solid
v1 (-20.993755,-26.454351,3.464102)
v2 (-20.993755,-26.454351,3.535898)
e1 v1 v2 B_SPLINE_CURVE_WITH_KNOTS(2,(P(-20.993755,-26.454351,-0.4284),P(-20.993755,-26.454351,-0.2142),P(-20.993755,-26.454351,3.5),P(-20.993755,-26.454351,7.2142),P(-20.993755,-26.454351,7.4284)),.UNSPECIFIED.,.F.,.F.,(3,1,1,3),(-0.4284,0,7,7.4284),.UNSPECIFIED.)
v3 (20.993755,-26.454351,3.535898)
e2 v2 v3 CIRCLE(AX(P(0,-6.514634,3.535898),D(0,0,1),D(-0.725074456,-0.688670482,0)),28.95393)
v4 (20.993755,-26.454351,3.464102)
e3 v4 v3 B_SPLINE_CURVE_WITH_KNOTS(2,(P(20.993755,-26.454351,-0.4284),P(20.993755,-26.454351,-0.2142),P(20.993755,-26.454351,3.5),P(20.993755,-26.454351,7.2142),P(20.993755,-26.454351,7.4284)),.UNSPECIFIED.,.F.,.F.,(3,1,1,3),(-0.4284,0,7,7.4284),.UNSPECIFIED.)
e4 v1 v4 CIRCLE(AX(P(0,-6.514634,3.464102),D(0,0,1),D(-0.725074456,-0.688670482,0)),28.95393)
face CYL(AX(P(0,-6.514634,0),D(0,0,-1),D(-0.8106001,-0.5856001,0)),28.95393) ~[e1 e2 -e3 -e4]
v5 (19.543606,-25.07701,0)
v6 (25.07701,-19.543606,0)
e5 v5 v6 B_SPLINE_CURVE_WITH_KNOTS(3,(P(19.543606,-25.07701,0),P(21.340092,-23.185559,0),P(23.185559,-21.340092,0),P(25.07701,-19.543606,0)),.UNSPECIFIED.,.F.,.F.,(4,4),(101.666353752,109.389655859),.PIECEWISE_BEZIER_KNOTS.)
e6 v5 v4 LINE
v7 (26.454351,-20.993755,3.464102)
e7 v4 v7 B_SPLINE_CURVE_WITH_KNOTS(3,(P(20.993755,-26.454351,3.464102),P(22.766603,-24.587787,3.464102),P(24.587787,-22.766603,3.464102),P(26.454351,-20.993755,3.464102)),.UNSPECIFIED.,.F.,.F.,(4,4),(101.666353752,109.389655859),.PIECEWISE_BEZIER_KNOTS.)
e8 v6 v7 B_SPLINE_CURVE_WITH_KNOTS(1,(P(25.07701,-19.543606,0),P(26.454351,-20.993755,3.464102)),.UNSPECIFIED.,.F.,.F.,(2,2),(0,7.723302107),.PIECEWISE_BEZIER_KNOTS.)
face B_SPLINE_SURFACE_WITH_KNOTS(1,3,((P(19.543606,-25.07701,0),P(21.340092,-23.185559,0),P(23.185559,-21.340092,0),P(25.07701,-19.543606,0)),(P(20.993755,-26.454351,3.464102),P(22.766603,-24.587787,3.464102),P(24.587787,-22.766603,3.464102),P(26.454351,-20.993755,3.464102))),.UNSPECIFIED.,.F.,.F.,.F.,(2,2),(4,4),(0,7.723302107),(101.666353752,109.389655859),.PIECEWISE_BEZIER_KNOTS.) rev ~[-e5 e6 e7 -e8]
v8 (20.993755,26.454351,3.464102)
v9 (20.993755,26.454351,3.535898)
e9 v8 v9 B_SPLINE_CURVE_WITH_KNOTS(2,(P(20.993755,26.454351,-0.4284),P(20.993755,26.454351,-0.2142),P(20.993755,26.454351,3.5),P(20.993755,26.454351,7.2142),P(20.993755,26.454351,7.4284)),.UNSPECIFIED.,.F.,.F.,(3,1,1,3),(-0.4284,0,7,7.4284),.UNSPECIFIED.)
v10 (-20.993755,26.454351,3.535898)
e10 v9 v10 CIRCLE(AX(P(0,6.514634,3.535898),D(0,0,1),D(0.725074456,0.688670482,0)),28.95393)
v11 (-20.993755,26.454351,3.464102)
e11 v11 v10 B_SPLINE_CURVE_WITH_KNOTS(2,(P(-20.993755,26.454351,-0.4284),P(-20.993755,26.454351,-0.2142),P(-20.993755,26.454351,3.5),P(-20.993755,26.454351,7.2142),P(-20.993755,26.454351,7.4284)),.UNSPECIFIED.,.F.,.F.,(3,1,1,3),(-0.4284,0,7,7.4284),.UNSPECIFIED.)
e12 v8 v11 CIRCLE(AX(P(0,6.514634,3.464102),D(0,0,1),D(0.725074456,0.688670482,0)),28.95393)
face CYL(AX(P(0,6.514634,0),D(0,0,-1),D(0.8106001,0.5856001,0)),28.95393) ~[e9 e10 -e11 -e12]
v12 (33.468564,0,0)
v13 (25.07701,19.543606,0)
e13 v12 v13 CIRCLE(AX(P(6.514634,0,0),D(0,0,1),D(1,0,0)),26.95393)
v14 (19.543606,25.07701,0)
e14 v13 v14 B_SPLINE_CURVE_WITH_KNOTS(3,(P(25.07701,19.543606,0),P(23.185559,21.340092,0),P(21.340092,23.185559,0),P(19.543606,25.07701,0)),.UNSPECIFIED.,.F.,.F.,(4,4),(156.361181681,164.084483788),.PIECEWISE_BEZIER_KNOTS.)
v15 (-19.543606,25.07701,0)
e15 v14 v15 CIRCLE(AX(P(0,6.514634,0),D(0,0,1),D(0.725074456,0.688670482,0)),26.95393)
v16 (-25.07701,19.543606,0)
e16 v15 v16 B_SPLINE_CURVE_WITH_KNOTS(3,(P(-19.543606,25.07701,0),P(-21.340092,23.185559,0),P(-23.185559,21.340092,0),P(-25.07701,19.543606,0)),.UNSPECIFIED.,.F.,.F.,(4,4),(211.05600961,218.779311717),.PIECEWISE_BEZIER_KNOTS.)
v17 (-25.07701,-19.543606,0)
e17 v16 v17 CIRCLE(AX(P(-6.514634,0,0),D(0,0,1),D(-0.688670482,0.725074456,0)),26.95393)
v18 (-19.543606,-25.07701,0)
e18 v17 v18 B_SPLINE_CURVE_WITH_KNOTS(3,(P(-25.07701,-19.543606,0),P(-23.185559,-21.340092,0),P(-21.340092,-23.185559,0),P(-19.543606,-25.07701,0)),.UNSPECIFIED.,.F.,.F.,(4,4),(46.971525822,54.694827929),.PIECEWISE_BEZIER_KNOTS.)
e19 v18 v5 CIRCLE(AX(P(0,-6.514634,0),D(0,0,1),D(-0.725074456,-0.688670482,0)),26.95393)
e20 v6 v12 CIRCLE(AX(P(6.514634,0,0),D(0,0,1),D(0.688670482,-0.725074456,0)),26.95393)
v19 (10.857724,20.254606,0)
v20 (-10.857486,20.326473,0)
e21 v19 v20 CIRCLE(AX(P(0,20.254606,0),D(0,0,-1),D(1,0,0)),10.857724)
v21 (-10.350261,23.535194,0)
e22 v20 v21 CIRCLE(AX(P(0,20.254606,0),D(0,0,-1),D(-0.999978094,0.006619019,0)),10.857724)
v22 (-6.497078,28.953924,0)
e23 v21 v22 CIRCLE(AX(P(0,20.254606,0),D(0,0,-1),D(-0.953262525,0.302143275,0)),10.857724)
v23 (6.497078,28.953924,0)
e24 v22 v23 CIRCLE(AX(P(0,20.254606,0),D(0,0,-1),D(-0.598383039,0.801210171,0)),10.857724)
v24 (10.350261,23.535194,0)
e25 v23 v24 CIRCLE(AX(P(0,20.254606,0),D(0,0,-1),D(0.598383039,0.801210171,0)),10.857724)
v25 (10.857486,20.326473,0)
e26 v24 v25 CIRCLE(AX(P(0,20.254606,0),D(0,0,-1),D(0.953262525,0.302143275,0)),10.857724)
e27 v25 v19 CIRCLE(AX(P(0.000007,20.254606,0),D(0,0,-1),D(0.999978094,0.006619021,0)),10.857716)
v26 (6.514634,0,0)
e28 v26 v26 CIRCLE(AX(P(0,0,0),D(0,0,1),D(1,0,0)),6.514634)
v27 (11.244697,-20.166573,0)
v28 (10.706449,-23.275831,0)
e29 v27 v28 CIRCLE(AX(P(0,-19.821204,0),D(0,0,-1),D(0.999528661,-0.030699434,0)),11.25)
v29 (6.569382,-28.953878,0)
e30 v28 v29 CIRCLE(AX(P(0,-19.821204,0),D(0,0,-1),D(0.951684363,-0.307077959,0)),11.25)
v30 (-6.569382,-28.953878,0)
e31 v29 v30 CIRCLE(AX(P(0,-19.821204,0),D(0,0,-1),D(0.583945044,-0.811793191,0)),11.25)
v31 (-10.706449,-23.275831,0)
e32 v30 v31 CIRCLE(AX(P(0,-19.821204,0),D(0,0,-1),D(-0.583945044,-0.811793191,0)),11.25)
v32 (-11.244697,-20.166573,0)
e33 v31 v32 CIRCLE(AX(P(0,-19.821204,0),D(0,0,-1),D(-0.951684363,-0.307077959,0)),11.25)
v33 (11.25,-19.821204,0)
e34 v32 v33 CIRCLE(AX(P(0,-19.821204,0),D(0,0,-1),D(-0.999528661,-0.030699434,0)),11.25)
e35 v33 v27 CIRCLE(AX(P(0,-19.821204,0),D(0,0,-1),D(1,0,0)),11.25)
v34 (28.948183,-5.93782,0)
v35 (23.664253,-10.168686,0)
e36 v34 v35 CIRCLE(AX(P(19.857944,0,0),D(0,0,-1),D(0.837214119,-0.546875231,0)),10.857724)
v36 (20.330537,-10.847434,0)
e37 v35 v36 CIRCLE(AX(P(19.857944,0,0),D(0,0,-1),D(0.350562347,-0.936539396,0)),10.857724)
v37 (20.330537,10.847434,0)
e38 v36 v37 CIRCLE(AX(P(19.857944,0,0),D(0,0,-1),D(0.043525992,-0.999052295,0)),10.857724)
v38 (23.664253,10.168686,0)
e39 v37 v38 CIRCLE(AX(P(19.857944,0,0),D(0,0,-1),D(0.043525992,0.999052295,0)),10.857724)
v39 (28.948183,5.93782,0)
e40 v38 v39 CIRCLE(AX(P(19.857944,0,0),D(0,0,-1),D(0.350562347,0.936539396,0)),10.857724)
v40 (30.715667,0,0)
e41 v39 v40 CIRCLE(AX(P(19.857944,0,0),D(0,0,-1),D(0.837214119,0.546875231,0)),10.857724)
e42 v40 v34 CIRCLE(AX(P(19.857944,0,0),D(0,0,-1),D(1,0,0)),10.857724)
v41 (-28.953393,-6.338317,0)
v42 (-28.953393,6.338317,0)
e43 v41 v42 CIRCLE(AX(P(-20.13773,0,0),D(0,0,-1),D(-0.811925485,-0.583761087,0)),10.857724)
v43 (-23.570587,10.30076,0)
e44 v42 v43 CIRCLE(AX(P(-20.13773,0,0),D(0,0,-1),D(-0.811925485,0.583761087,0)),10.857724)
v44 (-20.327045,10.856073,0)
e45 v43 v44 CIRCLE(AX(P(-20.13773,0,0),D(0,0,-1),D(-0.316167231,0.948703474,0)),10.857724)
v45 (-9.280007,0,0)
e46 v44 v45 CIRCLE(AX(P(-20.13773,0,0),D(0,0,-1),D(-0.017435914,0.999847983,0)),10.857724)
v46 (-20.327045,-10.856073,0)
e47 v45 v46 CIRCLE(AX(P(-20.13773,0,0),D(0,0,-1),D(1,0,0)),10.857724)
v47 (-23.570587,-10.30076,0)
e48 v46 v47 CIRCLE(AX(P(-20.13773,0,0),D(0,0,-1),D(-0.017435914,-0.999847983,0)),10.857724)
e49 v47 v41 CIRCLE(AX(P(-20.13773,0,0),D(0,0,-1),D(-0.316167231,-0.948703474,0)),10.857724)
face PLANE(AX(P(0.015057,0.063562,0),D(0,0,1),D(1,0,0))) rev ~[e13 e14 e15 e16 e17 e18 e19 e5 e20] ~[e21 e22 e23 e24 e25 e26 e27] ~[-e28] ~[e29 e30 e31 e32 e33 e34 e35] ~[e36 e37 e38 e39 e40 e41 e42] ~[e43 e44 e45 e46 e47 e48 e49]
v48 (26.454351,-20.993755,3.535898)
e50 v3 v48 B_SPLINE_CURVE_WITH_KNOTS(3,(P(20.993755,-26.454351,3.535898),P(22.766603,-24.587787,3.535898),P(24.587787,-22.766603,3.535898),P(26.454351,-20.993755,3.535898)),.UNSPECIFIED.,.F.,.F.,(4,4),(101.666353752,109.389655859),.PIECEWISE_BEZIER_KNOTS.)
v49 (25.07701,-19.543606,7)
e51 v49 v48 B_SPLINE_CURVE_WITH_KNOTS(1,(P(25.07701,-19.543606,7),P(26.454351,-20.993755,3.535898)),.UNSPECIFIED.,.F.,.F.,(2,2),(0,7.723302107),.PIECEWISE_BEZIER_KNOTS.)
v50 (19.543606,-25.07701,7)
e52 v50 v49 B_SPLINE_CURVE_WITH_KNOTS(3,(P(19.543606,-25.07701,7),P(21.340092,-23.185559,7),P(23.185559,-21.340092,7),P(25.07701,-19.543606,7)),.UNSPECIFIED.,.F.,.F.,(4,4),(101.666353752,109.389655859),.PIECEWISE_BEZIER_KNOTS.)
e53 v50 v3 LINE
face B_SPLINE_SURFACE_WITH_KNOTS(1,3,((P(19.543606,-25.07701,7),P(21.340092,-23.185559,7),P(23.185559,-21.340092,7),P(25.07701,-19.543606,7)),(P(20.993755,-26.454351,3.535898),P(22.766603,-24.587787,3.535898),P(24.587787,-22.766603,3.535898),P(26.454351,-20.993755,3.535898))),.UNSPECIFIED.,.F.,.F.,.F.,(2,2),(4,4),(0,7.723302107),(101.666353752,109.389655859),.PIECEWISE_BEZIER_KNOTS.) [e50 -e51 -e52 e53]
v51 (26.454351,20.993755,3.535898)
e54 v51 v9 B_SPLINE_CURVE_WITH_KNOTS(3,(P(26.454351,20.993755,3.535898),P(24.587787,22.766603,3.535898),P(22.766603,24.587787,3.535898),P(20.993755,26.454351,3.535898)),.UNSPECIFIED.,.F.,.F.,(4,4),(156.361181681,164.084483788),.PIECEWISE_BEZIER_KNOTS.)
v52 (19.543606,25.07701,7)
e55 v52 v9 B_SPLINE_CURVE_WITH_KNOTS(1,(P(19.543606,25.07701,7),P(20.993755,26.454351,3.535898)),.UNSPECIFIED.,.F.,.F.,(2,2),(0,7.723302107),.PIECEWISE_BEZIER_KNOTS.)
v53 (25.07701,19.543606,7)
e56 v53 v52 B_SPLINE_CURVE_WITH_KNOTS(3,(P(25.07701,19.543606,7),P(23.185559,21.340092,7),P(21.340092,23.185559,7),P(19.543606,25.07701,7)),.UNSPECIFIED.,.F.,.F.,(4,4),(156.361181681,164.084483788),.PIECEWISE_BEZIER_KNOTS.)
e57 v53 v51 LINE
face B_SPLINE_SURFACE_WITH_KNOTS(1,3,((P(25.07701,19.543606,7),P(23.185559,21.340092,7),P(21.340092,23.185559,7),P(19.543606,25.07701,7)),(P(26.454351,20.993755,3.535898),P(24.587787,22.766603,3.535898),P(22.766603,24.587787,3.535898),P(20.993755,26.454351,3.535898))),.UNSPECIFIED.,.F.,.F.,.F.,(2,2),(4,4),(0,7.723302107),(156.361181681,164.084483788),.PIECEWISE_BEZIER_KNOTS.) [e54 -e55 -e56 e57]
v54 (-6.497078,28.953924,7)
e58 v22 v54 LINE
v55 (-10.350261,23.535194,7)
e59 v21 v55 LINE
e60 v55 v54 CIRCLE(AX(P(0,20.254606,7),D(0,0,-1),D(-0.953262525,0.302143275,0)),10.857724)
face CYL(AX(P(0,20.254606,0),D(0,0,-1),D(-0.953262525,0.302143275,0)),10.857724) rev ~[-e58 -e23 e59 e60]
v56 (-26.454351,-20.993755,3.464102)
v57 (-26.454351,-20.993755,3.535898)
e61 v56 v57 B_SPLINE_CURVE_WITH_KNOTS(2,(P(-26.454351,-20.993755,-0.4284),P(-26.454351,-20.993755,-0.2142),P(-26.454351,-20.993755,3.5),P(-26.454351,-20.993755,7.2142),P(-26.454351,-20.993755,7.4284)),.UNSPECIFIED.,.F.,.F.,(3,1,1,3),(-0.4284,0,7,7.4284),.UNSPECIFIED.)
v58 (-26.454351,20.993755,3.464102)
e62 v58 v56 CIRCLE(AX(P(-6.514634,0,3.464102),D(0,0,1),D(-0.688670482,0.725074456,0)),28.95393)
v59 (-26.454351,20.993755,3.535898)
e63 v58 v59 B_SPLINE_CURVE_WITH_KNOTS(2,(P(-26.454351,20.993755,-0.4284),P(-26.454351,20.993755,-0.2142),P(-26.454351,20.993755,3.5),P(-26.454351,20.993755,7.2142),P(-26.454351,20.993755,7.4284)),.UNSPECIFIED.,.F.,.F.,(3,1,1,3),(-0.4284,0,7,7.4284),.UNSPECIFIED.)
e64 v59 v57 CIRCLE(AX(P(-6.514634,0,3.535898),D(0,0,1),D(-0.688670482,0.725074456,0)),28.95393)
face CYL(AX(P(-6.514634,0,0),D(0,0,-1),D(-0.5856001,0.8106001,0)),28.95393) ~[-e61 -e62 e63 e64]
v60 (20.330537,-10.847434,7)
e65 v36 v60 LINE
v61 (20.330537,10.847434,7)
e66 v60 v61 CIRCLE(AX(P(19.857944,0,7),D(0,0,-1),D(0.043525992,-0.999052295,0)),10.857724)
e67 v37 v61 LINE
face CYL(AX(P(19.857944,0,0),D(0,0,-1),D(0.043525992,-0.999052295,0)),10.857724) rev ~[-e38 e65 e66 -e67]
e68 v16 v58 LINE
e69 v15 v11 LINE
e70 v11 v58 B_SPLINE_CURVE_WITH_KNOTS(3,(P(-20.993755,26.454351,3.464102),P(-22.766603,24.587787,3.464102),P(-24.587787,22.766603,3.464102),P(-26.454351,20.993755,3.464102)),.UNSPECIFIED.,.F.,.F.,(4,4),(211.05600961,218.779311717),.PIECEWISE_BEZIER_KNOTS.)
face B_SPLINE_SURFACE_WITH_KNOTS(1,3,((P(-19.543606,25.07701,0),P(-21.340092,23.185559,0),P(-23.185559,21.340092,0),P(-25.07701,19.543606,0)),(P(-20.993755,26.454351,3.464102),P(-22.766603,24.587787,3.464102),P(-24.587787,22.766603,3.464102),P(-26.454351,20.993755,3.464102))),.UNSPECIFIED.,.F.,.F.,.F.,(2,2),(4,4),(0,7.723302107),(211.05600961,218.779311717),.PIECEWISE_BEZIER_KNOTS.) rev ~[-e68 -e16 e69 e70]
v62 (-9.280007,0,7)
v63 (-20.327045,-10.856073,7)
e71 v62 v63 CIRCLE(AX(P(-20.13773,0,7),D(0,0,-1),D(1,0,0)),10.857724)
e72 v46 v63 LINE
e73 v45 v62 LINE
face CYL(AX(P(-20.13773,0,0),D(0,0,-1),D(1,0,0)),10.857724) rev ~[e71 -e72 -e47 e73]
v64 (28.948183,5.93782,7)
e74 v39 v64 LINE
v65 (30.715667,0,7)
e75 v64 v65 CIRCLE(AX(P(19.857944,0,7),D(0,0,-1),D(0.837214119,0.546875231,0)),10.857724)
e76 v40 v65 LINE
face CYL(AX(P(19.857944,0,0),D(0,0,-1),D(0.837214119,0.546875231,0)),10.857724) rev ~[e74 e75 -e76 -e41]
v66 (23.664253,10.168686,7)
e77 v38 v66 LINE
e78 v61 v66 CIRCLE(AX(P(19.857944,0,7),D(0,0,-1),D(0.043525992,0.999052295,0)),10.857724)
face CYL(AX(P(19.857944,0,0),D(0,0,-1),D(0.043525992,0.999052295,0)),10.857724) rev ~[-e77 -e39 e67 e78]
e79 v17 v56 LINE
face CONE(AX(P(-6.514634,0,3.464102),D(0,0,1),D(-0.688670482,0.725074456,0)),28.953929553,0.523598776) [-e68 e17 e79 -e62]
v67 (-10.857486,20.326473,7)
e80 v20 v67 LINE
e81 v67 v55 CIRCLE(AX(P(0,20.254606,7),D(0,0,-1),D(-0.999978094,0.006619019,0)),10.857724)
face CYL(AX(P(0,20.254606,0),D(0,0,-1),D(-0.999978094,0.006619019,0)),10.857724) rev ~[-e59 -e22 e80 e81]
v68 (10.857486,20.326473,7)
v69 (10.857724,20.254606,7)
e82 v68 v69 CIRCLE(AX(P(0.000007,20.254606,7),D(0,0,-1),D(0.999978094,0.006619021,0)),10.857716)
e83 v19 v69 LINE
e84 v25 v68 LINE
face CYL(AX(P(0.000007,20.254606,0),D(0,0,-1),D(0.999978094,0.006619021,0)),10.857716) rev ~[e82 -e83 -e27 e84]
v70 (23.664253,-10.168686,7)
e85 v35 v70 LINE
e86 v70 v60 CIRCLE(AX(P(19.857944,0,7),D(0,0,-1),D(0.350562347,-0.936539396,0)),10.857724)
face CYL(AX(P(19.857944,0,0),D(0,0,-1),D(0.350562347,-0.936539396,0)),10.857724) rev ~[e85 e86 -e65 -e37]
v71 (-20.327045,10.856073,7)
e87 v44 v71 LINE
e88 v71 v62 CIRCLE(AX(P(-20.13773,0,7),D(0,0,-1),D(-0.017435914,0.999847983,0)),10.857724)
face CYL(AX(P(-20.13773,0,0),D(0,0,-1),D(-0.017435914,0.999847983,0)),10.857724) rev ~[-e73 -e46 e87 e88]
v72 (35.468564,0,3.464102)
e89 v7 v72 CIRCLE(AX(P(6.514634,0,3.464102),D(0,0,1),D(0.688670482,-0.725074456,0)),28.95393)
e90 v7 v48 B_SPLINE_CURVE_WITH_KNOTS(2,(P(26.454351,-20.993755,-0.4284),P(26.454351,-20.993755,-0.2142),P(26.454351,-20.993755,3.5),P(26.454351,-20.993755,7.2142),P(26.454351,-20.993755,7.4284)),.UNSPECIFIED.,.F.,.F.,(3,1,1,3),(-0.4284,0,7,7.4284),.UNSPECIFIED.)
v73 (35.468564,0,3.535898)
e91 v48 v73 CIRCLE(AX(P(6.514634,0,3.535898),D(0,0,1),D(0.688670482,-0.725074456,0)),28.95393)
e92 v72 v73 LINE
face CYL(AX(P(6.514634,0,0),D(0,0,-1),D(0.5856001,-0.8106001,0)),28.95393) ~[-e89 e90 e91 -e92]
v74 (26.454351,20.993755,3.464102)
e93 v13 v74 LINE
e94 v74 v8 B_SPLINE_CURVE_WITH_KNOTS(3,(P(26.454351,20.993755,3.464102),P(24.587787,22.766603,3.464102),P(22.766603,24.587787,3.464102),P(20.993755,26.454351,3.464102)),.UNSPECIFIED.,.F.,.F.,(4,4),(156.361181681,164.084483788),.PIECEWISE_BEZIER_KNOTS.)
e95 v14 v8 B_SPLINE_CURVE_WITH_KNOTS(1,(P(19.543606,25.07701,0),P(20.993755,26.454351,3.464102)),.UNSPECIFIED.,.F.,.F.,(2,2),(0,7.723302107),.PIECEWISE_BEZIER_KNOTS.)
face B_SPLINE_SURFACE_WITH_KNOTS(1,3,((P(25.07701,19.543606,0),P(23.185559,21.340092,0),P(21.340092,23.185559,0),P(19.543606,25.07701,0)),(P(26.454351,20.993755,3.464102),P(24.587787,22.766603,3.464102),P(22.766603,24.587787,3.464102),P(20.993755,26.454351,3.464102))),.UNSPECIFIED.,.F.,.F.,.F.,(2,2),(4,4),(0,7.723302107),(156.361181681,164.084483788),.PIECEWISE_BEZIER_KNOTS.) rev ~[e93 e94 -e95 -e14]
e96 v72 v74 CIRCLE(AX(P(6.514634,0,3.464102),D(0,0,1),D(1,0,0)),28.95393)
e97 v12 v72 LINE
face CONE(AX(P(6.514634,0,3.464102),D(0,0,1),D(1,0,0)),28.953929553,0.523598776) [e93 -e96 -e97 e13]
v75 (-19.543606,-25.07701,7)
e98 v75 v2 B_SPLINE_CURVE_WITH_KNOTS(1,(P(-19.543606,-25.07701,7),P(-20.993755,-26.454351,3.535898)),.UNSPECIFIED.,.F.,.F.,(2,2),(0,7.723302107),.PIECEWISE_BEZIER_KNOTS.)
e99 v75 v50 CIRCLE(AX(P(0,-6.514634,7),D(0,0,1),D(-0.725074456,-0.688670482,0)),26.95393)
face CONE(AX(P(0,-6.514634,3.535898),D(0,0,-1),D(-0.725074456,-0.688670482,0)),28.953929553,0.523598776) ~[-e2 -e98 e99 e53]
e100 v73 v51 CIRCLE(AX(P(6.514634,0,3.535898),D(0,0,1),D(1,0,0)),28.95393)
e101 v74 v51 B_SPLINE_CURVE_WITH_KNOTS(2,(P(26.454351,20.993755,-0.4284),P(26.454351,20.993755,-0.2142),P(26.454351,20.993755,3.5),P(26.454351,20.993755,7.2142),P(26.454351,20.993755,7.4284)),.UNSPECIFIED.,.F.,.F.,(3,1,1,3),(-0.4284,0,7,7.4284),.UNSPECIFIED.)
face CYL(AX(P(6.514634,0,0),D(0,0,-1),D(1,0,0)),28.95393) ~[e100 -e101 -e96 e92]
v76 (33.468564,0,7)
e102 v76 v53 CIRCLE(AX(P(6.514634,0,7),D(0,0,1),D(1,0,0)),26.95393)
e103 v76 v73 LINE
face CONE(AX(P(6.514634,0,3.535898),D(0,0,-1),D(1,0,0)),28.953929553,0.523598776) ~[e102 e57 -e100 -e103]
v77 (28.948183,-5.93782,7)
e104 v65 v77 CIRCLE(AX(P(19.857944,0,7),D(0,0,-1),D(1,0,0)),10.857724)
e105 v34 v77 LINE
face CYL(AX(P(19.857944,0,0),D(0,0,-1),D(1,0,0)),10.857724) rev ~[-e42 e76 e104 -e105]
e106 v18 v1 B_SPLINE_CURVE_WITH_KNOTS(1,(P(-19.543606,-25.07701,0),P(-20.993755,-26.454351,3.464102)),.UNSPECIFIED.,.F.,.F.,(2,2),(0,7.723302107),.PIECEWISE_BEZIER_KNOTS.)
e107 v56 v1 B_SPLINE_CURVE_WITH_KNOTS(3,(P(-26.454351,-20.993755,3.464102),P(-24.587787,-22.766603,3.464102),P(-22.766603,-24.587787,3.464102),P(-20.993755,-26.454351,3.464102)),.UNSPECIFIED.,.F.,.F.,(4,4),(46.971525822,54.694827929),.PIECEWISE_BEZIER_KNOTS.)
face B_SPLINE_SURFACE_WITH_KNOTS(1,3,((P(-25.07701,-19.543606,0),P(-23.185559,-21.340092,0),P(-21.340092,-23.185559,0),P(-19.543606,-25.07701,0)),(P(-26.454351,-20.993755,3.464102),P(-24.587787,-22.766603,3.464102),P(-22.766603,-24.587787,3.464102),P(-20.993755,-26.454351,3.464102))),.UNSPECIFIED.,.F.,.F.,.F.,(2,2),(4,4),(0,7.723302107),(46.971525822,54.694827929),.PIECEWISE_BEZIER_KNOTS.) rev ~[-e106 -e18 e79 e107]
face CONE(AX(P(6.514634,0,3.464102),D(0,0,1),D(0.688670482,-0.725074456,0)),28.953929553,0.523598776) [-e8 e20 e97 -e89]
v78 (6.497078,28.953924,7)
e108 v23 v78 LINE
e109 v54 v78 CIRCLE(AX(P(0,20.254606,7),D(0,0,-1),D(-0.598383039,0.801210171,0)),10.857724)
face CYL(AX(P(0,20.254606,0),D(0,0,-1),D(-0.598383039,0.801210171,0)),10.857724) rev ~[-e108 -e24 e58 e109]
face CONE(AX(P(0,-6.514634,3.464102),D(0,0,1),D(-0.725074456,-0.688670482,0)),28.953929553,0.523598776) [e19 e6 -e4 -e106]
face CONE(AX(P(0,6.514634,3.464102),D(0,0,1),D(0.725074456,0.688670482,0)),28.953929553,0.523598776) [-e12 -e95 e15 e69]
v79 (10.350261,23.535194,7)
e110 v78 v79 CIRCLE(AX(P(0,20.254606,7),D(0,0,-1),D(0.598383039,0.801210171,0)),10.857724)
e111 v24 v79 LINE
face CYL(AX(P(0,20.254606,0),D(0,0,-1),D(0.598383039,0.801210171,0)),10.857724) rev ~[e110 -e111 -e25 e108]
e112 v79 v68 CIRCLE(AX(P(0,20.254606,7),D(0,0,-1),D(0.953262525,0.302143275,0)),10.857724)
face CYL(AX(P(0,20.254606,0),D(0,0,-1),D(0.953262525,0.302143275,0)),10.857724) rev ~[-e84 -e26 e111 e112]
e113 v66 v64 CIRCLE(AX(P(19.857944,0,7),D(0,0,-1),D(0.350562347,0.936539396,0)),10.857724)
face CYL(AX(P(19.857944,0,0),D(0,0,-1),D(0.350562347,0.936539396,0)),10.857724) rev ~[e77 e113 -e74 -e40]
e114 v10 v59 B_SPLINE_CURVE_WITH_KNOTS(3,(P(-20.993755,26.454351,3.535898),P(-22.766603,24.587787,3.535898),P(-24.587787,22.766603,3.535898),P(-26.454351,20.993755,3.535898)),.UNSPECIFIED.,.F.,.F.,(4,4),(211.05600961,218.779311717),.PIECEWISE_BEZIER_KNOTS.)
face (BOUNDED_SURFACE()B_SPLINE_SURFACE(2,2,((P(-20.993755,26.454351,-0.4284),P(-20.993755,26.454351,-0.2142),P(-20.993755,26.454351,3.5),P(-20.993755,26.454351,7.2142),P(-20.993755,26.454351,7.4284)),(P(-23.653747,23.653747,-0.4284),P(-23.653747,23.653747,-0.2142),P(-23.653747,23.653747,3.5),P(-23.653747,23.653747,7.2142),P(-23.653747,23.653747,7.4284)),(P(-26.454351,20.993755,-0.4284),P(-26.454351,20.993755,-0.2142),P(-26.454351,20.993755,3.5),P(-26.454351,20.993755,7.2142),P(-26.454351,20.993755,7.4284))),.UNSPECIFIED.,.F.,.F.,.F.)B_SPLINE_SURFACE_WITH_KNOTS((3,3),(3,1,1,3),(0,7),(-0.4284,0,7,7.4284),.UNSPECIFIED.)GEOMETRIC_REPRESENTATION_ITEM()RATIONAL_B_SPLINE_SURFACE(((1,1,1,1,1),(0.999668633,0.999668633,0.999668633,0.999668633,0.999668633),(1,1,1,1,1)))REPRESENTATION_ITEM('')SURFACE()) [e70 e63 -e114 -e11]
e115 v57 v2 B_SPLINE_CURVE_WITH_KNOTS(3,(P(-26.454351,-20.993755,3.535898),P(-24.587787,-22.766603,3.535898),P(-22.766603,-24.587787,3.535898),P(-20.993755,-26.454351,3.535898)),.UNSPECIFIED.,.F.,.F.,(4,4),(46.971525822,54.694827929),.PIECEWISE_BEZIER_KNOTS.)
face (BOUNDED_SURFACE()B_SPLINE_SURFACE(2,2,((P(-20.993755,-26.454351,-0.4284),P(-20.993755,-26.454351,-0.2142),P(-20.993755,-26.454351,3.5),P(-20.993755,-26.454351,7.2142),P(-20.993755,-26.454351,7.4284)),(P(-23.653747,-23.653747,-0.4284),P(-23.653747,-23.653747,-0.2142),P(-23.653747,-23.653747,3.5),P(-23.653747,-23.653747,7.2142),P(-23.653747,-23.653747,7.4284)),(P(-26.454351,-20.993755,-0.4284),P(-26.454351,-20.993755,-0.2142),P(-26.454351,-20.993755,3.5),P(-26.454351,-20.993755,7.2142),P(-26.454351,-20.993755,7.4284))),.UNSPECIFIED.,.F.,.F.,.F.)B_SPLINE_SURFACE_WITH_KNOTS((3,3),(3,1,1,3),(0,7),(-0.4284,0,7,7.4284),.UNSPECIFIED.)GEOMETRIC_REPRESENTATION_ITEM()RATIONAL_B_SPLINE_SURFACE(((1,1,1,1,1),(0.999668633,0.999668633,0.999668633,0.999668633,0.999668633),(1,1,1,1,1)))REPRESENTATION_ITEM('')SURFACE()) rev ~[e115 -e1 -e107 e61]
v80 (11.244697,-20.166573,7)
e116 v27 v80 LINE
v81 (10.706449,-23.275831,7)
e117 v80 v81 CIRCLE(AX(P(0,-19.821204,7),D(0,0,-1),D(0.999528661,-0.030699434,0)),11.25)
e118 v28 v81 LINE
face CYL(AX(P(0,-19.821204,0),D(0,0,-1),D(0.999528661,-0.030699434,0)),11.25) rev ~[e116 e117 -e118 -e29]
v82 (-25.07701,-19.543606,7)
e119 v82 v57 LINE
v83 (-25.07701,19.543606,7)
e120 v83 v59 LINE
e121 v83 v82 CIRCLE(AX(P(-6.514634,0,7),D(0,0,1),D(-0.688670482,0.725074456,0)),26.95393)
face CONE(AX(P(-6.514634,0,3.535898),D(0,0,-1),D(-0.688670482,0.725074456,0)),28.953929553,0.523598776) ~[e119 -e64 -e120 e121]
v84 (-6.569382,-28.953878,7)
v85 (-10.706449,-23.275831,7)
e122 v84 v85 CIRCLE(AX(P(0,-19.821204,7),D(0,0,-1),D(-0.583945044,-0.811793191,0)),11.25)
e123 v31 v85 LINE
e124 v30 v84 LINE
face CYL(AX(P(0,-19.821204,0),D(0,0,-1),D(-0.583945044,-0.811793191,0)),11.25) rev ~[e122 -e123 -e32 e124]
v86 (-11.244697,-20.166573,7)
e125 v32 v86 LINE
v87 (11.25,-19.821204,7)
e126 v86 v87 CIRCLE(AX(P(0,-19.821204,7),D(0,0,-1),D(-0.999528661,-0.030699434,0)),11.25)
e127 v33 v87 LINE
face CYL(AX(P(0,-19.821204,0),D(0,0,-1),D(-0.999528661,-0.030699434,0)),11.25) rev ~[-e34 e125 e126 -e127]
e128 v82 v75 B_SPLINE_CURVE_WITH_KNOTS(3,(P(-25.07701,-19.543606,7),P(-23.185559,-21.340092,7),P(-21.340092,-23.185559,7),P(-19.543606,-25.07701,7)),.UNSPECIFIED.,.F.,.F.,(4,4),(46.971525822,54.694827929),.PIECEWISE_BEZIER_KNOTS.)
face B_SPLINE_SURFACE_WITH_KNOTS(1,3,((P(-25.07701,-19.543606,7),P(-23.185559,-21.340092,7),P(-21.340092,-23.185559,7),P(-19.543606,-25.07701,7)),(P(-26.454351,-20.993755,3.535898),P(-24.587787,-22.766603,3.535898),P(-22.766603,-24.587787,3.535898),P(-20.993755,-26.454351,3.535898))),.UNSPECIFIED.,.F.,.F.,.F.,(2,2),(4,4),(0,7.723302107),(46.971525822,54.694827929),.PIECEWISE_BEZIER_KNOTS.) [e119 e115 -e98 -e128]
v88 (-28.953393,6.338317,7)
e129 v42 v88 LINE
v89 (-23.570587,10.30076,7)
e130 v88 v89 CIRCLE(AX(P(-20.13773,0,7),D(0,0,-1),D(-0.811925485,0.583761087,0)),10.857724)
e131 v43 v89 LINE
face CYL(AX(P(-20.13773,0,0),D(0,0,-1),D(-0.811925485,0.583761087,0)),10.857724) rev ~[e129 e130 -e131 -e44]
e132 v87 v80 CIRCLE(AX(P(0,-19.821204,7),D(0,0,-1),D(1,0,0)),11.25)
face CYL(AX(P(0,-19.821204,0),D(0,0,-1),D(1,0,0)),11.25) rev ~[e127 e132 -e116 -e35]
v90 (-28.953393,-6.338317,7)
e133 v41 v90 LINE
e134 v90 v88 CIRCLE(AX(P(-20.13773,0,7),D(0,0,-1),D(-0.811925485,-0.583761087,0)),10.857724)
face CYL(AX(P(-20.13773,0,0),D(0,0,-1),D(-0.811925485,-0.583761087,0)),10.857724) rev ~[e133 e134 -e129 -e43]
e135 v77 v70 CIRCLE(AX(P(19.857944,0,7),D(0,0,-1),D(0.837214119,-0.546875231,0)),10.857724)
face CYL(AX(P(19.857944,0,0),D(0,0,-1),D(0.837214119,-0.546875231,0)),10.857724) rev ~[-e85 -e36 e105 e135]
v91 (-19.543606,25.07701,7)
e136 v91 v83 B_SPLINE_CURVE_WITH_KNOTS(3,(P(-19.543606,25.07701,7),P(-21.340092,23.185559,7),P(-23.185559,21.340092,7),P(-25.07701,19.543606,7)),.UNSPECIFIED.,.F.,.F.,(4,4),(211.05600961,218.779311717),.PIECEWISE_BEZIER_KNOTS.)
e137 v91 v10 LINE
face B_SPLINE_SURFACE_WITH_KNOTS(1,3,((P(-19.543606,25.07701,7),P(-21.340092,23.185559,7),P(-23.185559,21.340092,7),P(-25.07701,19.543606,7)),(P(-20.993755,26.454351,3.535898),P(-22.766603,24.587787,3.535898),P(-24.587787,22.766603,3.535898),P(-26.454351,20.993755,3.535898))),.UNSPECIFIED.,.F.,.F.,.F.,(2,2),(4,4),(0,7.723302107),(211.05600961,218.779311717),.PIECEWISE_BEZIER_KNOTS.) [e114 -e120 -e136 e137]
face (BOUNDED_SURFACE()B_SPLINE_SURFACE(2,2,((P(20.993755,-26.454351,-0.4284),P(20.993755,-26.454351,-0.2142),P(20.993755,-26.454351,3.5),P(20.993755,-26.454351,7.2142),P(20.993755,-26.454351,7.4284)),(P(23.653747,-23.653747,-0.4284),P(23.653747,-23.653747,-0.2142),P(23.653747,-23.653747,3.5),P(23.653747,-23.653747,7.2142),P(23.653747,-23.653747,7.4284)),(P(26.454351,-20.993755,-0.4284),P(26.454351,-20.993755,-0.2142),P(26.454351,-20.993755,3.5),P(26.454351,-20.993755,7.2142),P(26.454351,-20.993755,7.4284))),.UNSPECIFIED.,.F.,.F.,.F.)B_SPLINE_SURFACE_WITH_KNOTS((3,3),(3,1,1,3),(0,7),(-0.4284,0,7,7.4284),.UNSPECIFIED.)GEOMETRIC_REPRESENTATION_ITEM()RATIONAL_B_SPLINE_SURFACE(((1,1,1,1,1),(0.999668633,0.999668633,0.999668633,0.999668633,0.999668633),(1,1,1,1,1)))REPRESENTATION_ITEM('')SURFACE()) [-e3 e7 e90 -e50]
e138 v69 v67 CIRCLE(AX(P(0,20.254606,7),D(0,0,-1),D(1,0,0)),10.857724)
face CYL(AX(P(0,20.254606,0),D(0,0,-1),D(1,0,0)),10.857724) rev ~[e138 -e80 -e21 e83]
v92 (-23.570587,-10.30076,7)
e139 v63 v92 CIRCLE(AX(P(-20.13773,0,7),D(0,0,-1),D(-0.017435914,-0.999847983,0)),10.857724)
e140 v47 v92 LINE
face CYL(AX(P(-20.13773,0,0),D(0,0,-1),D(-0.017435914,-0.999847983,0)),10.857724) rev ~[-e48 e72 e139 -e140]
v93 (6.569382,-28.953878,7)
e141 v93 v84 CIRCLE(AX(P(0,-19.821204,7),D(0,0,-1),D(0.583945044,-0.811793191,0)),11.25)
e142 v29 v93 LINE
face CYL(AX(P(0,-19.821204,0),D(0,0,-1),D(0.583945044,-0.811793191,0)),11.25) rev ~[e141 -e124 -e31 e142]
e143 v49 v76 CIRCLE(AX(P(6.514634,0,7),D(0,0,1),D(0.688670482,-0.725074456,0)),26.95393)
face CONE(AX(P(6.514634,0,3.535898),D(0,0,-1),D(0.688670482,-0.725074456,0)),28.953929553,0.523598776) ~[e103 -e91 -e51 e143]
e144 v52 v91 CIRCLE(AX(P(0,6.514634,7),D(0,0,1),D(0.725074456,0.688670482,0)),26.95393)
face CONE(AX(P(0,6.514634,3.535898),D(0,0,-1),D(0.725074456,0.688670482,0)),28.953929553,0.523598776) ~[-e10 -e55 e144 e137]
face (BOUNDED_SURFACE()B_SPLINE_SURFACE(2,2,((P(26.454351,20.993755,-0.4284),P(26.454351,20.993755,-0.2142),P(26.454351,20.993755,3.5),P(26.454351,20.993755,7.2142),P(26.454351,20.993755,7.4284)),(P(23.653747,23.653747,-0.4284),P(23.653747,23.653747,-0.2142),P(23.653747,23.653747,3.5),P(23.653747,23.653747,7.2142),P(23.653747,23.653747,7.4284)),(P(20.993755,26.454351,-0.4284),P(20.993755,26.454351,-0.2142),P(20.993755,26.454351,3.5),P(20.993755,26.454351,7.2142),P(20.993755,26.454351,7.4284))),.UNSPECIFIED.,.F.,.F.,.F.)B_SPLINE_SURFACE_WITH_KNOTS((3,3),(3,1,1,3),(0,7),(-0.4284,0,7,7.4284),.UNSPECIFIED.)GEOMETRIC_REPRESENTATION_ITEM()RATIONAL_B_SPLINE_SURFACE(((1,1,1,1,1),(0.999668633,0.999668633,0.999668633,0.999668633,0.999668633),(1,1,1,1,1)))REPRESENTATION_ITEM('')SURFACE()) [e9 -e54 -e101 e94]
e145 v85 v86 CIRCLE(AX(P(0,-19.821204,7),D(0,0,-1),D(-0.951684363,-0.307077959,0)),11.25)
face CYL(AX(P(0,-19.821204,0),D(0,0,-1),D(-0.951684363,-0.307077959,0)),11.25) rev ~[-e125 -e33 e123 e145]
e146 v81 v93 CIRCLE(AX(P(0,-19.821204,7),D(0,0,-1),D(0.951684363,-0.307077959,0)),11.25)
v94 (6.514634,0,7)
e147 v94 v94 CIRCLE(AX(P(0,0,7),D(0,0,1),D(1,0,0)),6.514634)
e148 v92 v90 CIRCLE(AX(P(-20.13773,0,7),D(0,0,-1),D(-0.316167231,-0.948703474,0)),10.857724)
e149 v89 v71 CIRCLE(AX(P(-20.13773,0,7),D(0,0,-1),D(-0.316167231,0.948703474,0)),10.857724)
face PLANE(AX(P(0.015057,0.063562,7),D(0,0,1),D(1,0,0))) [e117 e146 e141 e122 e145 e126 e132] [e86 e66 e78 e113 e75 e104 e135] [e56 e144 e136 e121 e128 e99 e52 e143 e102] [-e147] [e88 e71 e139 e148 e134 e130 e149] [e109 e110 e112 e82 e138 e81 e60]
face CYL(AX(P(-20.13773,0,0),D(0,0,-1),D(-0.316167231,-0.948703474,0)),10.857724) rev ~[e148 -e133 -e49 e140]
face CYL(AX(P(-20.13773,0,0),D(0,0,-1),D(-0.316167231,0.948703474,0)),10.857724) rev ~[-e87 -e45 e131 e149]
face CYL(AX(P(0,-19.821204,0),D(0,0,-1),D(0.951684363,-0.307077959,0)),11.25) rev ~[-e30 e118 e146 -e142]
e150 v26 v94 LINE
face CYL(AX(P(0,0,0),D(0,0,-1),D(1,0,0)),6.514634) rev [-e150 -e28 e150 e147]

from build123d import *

# Parameters (mm, degrees)
F0_R       = 6.5146341495
F1_DEPTH   = 7
F2_R       = 150
F3_SIZE2   = 3.4641016151
F3_SIZE    = 2
F3_2_SIZE2 = 3.4641016151
F3_2_SIZE  = 2


with BuildPart() as f1:
    # F0 (on Top) → F1 (new body)
    with BuildSketch(Plane.XY):
        with BuildLine():
            ThreePointArc((20.3305371016, 10.8474336629), (18.8276716907, 14.0034842548), (16.9554240496, 16.9554240496))
            ThreePointArc((16.9554240496, 16.9554240496), (14.0082290327, 18.8250492727), (10.8574857337, 20.3264731323))
            ThreePointArc((10.8574857337, 20.3264731323), (10.8576641201, 20.2905395913), (10.8577235824, 20.2546056568))
            ThreePointArc((10.8577235824, 20.2546056568), (-0.0359339345, 9.3969415367), (-10.8574857337, 20.3264731323))
            ThreePointArc((-10.8574857337, 20.3264731323), (-14.0082290327, 18.8250492727), (-16.9554240496, 16.9554240496))
            ThreePointArc((-16.9554240496, 16.9554240496), (-18.8254179031, 14.0075621913), (-20.3270445442, 10.8560730228))
            ThreePointArc((-20.3270445442, 10.8560730228), (-12.5273872935, 7.7442134548), (-9.280006631, 0))
            ThreePointArc((-9.280006631, 0), (-12.5273872935, -7.7442134548), (-20.3270445442, -10.8560730228))
            ThreePointArc((-20.3270445442, -10.8560730228), (-18.8254179031, -14.0075621913), (-16.9554240496, -16.9554240496))
            ThreePointArc((-16.9554240496, -16.9554240496), (-14.1911797406, -18.7230451047), (-11.2446974396, -20.1665730208))
            ThreePointArc((-11.2446974396, -20.1665730208), (-0.1727046676, -8.5725301074), (11.25, -19.8212043892))
            ThreePointArc((11.25, -19.8212043892), (11.2486742818, -19.9939090568), (11.2446974396, -20.1665730208))
            ThreePointArc((11.2446974396, -20.1665730208), (14.1911797406, -18.7230451047), (16.9554240496, -16.9554240496))
            ThreePointArc((16.9554240496, -16.9554240496), (18.8276716907, -14.0034842548), (20.3305371016, -10.8474336629))
            ThreePointArc((20.3305371016, -10.8474336629), (9.0002203311, 0), (20.3305371016, 10.8474336629))
        make_face()
        Circle(F0_R, mode=Mode.SUBTRACT)
        with BuildLine():
            ThreePointArc((-16.9554240496, 16.9554240496), (-20.5343741855, 13.8978501036), (-23.5705866136, 10.300760085))
            ThreePointArc((-23.5705866136, 10.300760085), (-21.9699756434, 10.7020109361), (-20.3270445442, 10.8560730228))
            ThreePointArc((-20.3270445442, 10.8560730228), (-18.8254179031, 14.0075621913), (-16.9554240496, 16.9554240496))
        make_face()
        with BuildLine():
            ThreePointArc((-6.4970776314, 28.9539242303), (-15.4163775625, 27.5515698423), (-23.470058199, 23.470058199))
            ThreePointArc((-23.470058199, 23.470058199), (-27.5758715938, 15.3408078623), (-28.9533926969, 6.3383165249))
            ThreePointArc((-28.9533926969, 6.3383165249), (-26.5744835451, 8.7440475719), (-23.5705866136, 10.300760085))
            ThreePointArc((-23.5705866136, 10.300760085), (-20.5343741855, 13.8978501036), (-16.9554240496, 16.9554240496))
            ThreePointArc((-16.9554240496, 16.9554240496), (-13.9194172815, 20.5129124867), (-10.3502609953, 23.5351938238))
            ThreePointArc((-10.3502609953, 23.5351938238), (-8.8486645605, 26.5467672001), (-6.4970776314, 28.9539242303))
        make_face()
        with BuildLine():
            ThreePointArc((-10.8574857337, 20.3264731323), (-10.7245560491, 21.9499106272), (-10.3502609953, 23.5351938238))
            ThreePointArc((-10.3502609953, 23.5351938238), (-13.9194172815, 20.5129124867), (-16.9554240496, 16.9554240496))
            ThreePointArc((-16.9554240496, 16.9554240496), (-14.0082290327, 18.8250492727), (-10.8574857337, 20.3264731323))
        make_face()
        with BuildLine():
            ThreePointArc((-28.9533926969, -6.3383165249), (-27.5758715938, -15.3408078623), (-23.470058199, -23.470058199))
            ThreePointArc((-23.470058199, -23.470058199), (-15.4507716917, -27.5404335913), (-6.5693817436, -28.9538777933))
            ThreePointArc((-6.5693817436, -28.9538777933), (-9.0925043483, -26.4460715332), (-10.7064490846, -23.2758314312))
            ThreePointArc((-10.7064490846, -23.2758314312), (-14.0749053099, -20.3568391805), (-16.9554240496, -16.9554240496))
            ThreePointArc((-16.9554240496, -16.9554240496), (-20.5343741855, -13.8978501036), (-23.5705866136, -10.300760085))
            ThreePointArc((-23.5705866136, -10.300760085), (-26.5744835451, -8.7440475719), (-28.9533926969, -6.3383165249))
        make_face()
        with BuildLine():
            ThreePointArc((-6.5693817436, -28.9538777933), (-15.4507716917, -27.5404335913), (-23.470058199, -23.470058199))
            ThreePointArc((-23.470058199, -23.470058199), (0, -35.4685637026), (23.470058199, -23.470058199))
            ThreePointArc((23.470058199, -23.470058199), (15.4507716917, -27.5404335913), (6.5693817436, -28.9538777933))
            ThreePointArc((6.5693817436, -28.9538777933), (0, -31.0712043892), (-6.5693817436, -28.9538777933))
        make_face()
        with BuildLine():
            ThreePointArc((-28.9533926969, 6.3383165249), (-27.5758715938, 15.3408078623), (-23.470058199, 23.470058199))
            ThreePointArc((-23.470058199, 23.470058199), (-35.4685637026, 0), (-23.470058199, -23.470058199))
            ThreePointArc((-23.470058199, -23.470058199), (-27.5758715938, -15.3408078623), (-28.9533926969, -6.3383165249))
            ThreePointArc((-28.9533926969, -6.3383165249), (-30.9954537959, 0), (-28.9533926969, 6.3383165249))
        make_face()
        with BuildLine():
            ThreePointArc((6.4970776314, 28.9539242303), (15.4163775625, 27.5515698423), (23.470058199, 23.470058199))
            ThreePointArc((23.470058199, 23.470058199), (0, 35.4685637026), (-23.470058199, 23.470058199))
            ThreePointArc((-23.470058199, 23.470058199), (-15.4163775625, 27.5515698423), (-6.4970776314, 28.9539242303))
            ThreePointArc((-6.4970776314, 28.9539242303), (0, 31.1123292392), (6.4970776314, 28.9539242303))
        make_face()
        with BuildLine():
            ThreePointArc((28.9481833992, 5.9378200954), (28.952492979, 6.2262128121), (28.9539295531, 6.5146341495))
            ThreePointArc((28.9539295531, 6.5146341495), (27.5488697433, 15.424730245), (23.470058199, 23.470058199))
            ThreePointArc((23.470058199, 23.470058199), (15.4163775625, 27.5515698423), (6.4970776314, 28.9539242303))
            ThreePointArc((6.4970776314, 28.9539242303), (8.8486645605, 26.5467672001), (10.3502609953, 23.5351938238))
            ThreePointArc((10.3502609953, 23.5351938238), (13.9194172815, 20.5129124867), (16.9554240496, 16.9554240496))
            ThreePointArc((16.9554240496, 16.9554240496), (20.591369411, 13.8403539947), (23.6642529801, 10.1686858877))
            ThreePointArc((23.6642529801, 10.1686858877), (26.6443492565, 8.4755450511), (28.9481833992, 5.9378200954))
        make_face()
        with BuildLine():
            ThreePointArc((16.9554240496, 16.9554240496), (13.9194172815, 20.5129124867), (10.3502609953, 23.5351938238))
            ThreePointArc((10.3502609953, 23.5351938238), (10.7245560491, 21.9499106272), (10.8574857337, 20.3264731323))
            ThreePointArc((10.8574857337, 20.3264731323), (14.0082290327, 18.8250492727), (16.9554240496, 16.9554240496))
        make_face()
        with BuildLine():
            ThreePointArc((20.3305371016, 10.8474336629), (22.0241446803, 10.6394424492), (23.6642529801, 10.1686858877))
            ThreePointArc((23.6642529801, 10.1686858877), (20.591369411, 13.8403539947), (16.9554240496, 16.9554240496))
            ThreePointArc((16.9554240496, 16.9554240496), (18.8276716907, 14.0034842548), (20.3305371016, 10.8474336629))
        make_face()
        with BuildLine():
            ThreePointArc((23.470058199, 23.470058199), (27.5488697433, 15.424730245), (28.9539295531, 6.5146341495))
            ThreePointArc((28.9539295531, 6.5146341495), (28.952492979, 6.2262128121), (28.9481833992, 5.9378200954))
            ThreePointArc((28.9481833992, 5.9378200954), (30.2644195183, 3.0976486049), (30.7156674959, 0))
            ThreePointArc((30.7156674959, 0), (30.2644195183, -3.0976486049), (28.9481833992, -5.9378200954))
            ThreePointArc((28.9481833992, -5.9378200954), (28.952492979, -6.2262128121), (28.9539295531, -6.5146341495))
            ThreePointArc((28.9539295531, -6.5146341495), (27.5488697433, -15.424730245), (23.470058199, -23.470058199))
            ThreePointArc((23.470058199, -23.470058199), (32.2950161292, -13.1796032393), (35.4685637026, 0))
            ThreePointArc((35.4685637026, 0), (32.2950161292, 13.1796032393), (23.470058199, 23.470058199))
        make_face()
        with BuildLine():
            ThreePointArc((16.9554240496, -16.9554240496), (20.591369411, -13.8403539947), (23.6642529801, -10.1686858877))
            ThreePointArc((23.6642529801, -10.1686858877), (22.0241446803, -10.6394424492), (20.3305371016, -10.8474336629))
            ThreePointArc((20.3305371016, -10.8474336629), (18.8276716907, -14.0034842548), (16.9554240496, -16.9554240496))
        make_face()
        with BuildLine():
            ThreePointArc((-16.9554240496, -16.9554240496), (-14.0749053099, -20.3568391805), (-10.7064490846, -23.2758314312))
            ThreePointArc((-10.7064490846, -23.2758314312), (-11.0851287948, -21.7401675475), (-11.2446974396, -20.1665730208))
            ThreePointArc((-11.2446974396, -20.1665730208), (-14.1911797406, -18.7230451047), (-16.9554240496, -16.9554240496))
        make_face()
        with BuildLine():
            ThreePointArc((-20.3270445442, -10.8560730228), (-21.9699756434, -10.7020109361), (-23.5705866136, -10.300760085))
            ThreePointArc((-23.5705866136, -10.300760085), (-20.5343741855, -13.8978501036), (-16.9554240496, -16.9554240496))
            ThreePointArc((-16.9554240496, -16.9554240496), (-18.8254179031, -14.0075621913), (-20.3270445442, -10.8560730228))
        make_face()
        with BuildLine():
            ThreePointArc((6.5693817436, -28.9538777933), (15.4507716917, -27.5404335913), (23.470058199, -23.470058199))
            ThreePointArc((23.470058199, -23.470058199), (27.5488697433, -15.424730245), (28.9539295531, -6.5146341495))
            ThreePointArc((28.9539295531, -6.5146341495), (28.952492979, -6.2262128121), (28.9481833992, -5.9378200954))
            ThreePointArc((28.9481833992, -5.9378200954), (26.6443492565, -8.4755450511), (23.6642529801, -10.1686858877))
            ThreePointArc((23.6642529801, -10.1686858877), (20.591369411, -13.8403539947), (16.9554240496, -16.9554240496))
            ThreePointArc((16.9554240496, -16.9554240496), (14.0749053099, -20.3568391805), (10.7064490846, -23.2758314312))
            ThreePointArc((10.7064490846, -23.2758314312), (9.0925043483, -26.4460715332), (6.5693817436, -28.9538777933))
        make_face()
        with BuildLine():
            ThreePointArc((10.7064490846, -23.2758314312), (14.0749053099, -20.3568391805), (16.9554240496, -16.9554240496))
            ThreePointArc((16.9554240496, -16.9554240496), (14.1911797406, -18.7230451047), (11.2446974396, -20.1665730208))
            ThreePointArc((11.2446974396, -20.1665730208), (11.0851287948, -21.7401675475), (10.7064490846, -23.2758314312))
        make_face()
    extrude(amount=F1_DEPTH)

    # F2
    f2_edges = [f1.edges().sort_by_distance(p)[0] for p in [
        (23.470058, -23.470058, 3.5),
        (23.470058, 23.470058, 3.5),
        (-23.470058, 23.470058, 3.5),
        (-23.470058, -23.470058, 3.5),
    ]]
    fillet(f2_edges, radius=F2_R)

    # F3
    f3_edges = [f1.edges().sort_by_distance(p)[0] for p in [
        (-35.468564, 0, 7),
    ]]
    f3_side = f1.faces().sort_by_distance((0, -34.465361, 7))[0]
    chamfer(f3_edges, length=F3_SIZE, length2=F3_SIZE2, reference=f3_side)

    # F3#2
    f3_2_edges = [f1.edges().sort_by_distance(p)[0] for p in [
        (-35.468564, 0, 0),
    ]]
    f3_2_side = f1.faces().sort_by_distance((0, -34.465361, 0))[0]
    chamfer(f3_2_edges, length=F3_2_SIZE, length2=F3_2_SIZE2, reference=f3_2_side)


solid = f1.part
